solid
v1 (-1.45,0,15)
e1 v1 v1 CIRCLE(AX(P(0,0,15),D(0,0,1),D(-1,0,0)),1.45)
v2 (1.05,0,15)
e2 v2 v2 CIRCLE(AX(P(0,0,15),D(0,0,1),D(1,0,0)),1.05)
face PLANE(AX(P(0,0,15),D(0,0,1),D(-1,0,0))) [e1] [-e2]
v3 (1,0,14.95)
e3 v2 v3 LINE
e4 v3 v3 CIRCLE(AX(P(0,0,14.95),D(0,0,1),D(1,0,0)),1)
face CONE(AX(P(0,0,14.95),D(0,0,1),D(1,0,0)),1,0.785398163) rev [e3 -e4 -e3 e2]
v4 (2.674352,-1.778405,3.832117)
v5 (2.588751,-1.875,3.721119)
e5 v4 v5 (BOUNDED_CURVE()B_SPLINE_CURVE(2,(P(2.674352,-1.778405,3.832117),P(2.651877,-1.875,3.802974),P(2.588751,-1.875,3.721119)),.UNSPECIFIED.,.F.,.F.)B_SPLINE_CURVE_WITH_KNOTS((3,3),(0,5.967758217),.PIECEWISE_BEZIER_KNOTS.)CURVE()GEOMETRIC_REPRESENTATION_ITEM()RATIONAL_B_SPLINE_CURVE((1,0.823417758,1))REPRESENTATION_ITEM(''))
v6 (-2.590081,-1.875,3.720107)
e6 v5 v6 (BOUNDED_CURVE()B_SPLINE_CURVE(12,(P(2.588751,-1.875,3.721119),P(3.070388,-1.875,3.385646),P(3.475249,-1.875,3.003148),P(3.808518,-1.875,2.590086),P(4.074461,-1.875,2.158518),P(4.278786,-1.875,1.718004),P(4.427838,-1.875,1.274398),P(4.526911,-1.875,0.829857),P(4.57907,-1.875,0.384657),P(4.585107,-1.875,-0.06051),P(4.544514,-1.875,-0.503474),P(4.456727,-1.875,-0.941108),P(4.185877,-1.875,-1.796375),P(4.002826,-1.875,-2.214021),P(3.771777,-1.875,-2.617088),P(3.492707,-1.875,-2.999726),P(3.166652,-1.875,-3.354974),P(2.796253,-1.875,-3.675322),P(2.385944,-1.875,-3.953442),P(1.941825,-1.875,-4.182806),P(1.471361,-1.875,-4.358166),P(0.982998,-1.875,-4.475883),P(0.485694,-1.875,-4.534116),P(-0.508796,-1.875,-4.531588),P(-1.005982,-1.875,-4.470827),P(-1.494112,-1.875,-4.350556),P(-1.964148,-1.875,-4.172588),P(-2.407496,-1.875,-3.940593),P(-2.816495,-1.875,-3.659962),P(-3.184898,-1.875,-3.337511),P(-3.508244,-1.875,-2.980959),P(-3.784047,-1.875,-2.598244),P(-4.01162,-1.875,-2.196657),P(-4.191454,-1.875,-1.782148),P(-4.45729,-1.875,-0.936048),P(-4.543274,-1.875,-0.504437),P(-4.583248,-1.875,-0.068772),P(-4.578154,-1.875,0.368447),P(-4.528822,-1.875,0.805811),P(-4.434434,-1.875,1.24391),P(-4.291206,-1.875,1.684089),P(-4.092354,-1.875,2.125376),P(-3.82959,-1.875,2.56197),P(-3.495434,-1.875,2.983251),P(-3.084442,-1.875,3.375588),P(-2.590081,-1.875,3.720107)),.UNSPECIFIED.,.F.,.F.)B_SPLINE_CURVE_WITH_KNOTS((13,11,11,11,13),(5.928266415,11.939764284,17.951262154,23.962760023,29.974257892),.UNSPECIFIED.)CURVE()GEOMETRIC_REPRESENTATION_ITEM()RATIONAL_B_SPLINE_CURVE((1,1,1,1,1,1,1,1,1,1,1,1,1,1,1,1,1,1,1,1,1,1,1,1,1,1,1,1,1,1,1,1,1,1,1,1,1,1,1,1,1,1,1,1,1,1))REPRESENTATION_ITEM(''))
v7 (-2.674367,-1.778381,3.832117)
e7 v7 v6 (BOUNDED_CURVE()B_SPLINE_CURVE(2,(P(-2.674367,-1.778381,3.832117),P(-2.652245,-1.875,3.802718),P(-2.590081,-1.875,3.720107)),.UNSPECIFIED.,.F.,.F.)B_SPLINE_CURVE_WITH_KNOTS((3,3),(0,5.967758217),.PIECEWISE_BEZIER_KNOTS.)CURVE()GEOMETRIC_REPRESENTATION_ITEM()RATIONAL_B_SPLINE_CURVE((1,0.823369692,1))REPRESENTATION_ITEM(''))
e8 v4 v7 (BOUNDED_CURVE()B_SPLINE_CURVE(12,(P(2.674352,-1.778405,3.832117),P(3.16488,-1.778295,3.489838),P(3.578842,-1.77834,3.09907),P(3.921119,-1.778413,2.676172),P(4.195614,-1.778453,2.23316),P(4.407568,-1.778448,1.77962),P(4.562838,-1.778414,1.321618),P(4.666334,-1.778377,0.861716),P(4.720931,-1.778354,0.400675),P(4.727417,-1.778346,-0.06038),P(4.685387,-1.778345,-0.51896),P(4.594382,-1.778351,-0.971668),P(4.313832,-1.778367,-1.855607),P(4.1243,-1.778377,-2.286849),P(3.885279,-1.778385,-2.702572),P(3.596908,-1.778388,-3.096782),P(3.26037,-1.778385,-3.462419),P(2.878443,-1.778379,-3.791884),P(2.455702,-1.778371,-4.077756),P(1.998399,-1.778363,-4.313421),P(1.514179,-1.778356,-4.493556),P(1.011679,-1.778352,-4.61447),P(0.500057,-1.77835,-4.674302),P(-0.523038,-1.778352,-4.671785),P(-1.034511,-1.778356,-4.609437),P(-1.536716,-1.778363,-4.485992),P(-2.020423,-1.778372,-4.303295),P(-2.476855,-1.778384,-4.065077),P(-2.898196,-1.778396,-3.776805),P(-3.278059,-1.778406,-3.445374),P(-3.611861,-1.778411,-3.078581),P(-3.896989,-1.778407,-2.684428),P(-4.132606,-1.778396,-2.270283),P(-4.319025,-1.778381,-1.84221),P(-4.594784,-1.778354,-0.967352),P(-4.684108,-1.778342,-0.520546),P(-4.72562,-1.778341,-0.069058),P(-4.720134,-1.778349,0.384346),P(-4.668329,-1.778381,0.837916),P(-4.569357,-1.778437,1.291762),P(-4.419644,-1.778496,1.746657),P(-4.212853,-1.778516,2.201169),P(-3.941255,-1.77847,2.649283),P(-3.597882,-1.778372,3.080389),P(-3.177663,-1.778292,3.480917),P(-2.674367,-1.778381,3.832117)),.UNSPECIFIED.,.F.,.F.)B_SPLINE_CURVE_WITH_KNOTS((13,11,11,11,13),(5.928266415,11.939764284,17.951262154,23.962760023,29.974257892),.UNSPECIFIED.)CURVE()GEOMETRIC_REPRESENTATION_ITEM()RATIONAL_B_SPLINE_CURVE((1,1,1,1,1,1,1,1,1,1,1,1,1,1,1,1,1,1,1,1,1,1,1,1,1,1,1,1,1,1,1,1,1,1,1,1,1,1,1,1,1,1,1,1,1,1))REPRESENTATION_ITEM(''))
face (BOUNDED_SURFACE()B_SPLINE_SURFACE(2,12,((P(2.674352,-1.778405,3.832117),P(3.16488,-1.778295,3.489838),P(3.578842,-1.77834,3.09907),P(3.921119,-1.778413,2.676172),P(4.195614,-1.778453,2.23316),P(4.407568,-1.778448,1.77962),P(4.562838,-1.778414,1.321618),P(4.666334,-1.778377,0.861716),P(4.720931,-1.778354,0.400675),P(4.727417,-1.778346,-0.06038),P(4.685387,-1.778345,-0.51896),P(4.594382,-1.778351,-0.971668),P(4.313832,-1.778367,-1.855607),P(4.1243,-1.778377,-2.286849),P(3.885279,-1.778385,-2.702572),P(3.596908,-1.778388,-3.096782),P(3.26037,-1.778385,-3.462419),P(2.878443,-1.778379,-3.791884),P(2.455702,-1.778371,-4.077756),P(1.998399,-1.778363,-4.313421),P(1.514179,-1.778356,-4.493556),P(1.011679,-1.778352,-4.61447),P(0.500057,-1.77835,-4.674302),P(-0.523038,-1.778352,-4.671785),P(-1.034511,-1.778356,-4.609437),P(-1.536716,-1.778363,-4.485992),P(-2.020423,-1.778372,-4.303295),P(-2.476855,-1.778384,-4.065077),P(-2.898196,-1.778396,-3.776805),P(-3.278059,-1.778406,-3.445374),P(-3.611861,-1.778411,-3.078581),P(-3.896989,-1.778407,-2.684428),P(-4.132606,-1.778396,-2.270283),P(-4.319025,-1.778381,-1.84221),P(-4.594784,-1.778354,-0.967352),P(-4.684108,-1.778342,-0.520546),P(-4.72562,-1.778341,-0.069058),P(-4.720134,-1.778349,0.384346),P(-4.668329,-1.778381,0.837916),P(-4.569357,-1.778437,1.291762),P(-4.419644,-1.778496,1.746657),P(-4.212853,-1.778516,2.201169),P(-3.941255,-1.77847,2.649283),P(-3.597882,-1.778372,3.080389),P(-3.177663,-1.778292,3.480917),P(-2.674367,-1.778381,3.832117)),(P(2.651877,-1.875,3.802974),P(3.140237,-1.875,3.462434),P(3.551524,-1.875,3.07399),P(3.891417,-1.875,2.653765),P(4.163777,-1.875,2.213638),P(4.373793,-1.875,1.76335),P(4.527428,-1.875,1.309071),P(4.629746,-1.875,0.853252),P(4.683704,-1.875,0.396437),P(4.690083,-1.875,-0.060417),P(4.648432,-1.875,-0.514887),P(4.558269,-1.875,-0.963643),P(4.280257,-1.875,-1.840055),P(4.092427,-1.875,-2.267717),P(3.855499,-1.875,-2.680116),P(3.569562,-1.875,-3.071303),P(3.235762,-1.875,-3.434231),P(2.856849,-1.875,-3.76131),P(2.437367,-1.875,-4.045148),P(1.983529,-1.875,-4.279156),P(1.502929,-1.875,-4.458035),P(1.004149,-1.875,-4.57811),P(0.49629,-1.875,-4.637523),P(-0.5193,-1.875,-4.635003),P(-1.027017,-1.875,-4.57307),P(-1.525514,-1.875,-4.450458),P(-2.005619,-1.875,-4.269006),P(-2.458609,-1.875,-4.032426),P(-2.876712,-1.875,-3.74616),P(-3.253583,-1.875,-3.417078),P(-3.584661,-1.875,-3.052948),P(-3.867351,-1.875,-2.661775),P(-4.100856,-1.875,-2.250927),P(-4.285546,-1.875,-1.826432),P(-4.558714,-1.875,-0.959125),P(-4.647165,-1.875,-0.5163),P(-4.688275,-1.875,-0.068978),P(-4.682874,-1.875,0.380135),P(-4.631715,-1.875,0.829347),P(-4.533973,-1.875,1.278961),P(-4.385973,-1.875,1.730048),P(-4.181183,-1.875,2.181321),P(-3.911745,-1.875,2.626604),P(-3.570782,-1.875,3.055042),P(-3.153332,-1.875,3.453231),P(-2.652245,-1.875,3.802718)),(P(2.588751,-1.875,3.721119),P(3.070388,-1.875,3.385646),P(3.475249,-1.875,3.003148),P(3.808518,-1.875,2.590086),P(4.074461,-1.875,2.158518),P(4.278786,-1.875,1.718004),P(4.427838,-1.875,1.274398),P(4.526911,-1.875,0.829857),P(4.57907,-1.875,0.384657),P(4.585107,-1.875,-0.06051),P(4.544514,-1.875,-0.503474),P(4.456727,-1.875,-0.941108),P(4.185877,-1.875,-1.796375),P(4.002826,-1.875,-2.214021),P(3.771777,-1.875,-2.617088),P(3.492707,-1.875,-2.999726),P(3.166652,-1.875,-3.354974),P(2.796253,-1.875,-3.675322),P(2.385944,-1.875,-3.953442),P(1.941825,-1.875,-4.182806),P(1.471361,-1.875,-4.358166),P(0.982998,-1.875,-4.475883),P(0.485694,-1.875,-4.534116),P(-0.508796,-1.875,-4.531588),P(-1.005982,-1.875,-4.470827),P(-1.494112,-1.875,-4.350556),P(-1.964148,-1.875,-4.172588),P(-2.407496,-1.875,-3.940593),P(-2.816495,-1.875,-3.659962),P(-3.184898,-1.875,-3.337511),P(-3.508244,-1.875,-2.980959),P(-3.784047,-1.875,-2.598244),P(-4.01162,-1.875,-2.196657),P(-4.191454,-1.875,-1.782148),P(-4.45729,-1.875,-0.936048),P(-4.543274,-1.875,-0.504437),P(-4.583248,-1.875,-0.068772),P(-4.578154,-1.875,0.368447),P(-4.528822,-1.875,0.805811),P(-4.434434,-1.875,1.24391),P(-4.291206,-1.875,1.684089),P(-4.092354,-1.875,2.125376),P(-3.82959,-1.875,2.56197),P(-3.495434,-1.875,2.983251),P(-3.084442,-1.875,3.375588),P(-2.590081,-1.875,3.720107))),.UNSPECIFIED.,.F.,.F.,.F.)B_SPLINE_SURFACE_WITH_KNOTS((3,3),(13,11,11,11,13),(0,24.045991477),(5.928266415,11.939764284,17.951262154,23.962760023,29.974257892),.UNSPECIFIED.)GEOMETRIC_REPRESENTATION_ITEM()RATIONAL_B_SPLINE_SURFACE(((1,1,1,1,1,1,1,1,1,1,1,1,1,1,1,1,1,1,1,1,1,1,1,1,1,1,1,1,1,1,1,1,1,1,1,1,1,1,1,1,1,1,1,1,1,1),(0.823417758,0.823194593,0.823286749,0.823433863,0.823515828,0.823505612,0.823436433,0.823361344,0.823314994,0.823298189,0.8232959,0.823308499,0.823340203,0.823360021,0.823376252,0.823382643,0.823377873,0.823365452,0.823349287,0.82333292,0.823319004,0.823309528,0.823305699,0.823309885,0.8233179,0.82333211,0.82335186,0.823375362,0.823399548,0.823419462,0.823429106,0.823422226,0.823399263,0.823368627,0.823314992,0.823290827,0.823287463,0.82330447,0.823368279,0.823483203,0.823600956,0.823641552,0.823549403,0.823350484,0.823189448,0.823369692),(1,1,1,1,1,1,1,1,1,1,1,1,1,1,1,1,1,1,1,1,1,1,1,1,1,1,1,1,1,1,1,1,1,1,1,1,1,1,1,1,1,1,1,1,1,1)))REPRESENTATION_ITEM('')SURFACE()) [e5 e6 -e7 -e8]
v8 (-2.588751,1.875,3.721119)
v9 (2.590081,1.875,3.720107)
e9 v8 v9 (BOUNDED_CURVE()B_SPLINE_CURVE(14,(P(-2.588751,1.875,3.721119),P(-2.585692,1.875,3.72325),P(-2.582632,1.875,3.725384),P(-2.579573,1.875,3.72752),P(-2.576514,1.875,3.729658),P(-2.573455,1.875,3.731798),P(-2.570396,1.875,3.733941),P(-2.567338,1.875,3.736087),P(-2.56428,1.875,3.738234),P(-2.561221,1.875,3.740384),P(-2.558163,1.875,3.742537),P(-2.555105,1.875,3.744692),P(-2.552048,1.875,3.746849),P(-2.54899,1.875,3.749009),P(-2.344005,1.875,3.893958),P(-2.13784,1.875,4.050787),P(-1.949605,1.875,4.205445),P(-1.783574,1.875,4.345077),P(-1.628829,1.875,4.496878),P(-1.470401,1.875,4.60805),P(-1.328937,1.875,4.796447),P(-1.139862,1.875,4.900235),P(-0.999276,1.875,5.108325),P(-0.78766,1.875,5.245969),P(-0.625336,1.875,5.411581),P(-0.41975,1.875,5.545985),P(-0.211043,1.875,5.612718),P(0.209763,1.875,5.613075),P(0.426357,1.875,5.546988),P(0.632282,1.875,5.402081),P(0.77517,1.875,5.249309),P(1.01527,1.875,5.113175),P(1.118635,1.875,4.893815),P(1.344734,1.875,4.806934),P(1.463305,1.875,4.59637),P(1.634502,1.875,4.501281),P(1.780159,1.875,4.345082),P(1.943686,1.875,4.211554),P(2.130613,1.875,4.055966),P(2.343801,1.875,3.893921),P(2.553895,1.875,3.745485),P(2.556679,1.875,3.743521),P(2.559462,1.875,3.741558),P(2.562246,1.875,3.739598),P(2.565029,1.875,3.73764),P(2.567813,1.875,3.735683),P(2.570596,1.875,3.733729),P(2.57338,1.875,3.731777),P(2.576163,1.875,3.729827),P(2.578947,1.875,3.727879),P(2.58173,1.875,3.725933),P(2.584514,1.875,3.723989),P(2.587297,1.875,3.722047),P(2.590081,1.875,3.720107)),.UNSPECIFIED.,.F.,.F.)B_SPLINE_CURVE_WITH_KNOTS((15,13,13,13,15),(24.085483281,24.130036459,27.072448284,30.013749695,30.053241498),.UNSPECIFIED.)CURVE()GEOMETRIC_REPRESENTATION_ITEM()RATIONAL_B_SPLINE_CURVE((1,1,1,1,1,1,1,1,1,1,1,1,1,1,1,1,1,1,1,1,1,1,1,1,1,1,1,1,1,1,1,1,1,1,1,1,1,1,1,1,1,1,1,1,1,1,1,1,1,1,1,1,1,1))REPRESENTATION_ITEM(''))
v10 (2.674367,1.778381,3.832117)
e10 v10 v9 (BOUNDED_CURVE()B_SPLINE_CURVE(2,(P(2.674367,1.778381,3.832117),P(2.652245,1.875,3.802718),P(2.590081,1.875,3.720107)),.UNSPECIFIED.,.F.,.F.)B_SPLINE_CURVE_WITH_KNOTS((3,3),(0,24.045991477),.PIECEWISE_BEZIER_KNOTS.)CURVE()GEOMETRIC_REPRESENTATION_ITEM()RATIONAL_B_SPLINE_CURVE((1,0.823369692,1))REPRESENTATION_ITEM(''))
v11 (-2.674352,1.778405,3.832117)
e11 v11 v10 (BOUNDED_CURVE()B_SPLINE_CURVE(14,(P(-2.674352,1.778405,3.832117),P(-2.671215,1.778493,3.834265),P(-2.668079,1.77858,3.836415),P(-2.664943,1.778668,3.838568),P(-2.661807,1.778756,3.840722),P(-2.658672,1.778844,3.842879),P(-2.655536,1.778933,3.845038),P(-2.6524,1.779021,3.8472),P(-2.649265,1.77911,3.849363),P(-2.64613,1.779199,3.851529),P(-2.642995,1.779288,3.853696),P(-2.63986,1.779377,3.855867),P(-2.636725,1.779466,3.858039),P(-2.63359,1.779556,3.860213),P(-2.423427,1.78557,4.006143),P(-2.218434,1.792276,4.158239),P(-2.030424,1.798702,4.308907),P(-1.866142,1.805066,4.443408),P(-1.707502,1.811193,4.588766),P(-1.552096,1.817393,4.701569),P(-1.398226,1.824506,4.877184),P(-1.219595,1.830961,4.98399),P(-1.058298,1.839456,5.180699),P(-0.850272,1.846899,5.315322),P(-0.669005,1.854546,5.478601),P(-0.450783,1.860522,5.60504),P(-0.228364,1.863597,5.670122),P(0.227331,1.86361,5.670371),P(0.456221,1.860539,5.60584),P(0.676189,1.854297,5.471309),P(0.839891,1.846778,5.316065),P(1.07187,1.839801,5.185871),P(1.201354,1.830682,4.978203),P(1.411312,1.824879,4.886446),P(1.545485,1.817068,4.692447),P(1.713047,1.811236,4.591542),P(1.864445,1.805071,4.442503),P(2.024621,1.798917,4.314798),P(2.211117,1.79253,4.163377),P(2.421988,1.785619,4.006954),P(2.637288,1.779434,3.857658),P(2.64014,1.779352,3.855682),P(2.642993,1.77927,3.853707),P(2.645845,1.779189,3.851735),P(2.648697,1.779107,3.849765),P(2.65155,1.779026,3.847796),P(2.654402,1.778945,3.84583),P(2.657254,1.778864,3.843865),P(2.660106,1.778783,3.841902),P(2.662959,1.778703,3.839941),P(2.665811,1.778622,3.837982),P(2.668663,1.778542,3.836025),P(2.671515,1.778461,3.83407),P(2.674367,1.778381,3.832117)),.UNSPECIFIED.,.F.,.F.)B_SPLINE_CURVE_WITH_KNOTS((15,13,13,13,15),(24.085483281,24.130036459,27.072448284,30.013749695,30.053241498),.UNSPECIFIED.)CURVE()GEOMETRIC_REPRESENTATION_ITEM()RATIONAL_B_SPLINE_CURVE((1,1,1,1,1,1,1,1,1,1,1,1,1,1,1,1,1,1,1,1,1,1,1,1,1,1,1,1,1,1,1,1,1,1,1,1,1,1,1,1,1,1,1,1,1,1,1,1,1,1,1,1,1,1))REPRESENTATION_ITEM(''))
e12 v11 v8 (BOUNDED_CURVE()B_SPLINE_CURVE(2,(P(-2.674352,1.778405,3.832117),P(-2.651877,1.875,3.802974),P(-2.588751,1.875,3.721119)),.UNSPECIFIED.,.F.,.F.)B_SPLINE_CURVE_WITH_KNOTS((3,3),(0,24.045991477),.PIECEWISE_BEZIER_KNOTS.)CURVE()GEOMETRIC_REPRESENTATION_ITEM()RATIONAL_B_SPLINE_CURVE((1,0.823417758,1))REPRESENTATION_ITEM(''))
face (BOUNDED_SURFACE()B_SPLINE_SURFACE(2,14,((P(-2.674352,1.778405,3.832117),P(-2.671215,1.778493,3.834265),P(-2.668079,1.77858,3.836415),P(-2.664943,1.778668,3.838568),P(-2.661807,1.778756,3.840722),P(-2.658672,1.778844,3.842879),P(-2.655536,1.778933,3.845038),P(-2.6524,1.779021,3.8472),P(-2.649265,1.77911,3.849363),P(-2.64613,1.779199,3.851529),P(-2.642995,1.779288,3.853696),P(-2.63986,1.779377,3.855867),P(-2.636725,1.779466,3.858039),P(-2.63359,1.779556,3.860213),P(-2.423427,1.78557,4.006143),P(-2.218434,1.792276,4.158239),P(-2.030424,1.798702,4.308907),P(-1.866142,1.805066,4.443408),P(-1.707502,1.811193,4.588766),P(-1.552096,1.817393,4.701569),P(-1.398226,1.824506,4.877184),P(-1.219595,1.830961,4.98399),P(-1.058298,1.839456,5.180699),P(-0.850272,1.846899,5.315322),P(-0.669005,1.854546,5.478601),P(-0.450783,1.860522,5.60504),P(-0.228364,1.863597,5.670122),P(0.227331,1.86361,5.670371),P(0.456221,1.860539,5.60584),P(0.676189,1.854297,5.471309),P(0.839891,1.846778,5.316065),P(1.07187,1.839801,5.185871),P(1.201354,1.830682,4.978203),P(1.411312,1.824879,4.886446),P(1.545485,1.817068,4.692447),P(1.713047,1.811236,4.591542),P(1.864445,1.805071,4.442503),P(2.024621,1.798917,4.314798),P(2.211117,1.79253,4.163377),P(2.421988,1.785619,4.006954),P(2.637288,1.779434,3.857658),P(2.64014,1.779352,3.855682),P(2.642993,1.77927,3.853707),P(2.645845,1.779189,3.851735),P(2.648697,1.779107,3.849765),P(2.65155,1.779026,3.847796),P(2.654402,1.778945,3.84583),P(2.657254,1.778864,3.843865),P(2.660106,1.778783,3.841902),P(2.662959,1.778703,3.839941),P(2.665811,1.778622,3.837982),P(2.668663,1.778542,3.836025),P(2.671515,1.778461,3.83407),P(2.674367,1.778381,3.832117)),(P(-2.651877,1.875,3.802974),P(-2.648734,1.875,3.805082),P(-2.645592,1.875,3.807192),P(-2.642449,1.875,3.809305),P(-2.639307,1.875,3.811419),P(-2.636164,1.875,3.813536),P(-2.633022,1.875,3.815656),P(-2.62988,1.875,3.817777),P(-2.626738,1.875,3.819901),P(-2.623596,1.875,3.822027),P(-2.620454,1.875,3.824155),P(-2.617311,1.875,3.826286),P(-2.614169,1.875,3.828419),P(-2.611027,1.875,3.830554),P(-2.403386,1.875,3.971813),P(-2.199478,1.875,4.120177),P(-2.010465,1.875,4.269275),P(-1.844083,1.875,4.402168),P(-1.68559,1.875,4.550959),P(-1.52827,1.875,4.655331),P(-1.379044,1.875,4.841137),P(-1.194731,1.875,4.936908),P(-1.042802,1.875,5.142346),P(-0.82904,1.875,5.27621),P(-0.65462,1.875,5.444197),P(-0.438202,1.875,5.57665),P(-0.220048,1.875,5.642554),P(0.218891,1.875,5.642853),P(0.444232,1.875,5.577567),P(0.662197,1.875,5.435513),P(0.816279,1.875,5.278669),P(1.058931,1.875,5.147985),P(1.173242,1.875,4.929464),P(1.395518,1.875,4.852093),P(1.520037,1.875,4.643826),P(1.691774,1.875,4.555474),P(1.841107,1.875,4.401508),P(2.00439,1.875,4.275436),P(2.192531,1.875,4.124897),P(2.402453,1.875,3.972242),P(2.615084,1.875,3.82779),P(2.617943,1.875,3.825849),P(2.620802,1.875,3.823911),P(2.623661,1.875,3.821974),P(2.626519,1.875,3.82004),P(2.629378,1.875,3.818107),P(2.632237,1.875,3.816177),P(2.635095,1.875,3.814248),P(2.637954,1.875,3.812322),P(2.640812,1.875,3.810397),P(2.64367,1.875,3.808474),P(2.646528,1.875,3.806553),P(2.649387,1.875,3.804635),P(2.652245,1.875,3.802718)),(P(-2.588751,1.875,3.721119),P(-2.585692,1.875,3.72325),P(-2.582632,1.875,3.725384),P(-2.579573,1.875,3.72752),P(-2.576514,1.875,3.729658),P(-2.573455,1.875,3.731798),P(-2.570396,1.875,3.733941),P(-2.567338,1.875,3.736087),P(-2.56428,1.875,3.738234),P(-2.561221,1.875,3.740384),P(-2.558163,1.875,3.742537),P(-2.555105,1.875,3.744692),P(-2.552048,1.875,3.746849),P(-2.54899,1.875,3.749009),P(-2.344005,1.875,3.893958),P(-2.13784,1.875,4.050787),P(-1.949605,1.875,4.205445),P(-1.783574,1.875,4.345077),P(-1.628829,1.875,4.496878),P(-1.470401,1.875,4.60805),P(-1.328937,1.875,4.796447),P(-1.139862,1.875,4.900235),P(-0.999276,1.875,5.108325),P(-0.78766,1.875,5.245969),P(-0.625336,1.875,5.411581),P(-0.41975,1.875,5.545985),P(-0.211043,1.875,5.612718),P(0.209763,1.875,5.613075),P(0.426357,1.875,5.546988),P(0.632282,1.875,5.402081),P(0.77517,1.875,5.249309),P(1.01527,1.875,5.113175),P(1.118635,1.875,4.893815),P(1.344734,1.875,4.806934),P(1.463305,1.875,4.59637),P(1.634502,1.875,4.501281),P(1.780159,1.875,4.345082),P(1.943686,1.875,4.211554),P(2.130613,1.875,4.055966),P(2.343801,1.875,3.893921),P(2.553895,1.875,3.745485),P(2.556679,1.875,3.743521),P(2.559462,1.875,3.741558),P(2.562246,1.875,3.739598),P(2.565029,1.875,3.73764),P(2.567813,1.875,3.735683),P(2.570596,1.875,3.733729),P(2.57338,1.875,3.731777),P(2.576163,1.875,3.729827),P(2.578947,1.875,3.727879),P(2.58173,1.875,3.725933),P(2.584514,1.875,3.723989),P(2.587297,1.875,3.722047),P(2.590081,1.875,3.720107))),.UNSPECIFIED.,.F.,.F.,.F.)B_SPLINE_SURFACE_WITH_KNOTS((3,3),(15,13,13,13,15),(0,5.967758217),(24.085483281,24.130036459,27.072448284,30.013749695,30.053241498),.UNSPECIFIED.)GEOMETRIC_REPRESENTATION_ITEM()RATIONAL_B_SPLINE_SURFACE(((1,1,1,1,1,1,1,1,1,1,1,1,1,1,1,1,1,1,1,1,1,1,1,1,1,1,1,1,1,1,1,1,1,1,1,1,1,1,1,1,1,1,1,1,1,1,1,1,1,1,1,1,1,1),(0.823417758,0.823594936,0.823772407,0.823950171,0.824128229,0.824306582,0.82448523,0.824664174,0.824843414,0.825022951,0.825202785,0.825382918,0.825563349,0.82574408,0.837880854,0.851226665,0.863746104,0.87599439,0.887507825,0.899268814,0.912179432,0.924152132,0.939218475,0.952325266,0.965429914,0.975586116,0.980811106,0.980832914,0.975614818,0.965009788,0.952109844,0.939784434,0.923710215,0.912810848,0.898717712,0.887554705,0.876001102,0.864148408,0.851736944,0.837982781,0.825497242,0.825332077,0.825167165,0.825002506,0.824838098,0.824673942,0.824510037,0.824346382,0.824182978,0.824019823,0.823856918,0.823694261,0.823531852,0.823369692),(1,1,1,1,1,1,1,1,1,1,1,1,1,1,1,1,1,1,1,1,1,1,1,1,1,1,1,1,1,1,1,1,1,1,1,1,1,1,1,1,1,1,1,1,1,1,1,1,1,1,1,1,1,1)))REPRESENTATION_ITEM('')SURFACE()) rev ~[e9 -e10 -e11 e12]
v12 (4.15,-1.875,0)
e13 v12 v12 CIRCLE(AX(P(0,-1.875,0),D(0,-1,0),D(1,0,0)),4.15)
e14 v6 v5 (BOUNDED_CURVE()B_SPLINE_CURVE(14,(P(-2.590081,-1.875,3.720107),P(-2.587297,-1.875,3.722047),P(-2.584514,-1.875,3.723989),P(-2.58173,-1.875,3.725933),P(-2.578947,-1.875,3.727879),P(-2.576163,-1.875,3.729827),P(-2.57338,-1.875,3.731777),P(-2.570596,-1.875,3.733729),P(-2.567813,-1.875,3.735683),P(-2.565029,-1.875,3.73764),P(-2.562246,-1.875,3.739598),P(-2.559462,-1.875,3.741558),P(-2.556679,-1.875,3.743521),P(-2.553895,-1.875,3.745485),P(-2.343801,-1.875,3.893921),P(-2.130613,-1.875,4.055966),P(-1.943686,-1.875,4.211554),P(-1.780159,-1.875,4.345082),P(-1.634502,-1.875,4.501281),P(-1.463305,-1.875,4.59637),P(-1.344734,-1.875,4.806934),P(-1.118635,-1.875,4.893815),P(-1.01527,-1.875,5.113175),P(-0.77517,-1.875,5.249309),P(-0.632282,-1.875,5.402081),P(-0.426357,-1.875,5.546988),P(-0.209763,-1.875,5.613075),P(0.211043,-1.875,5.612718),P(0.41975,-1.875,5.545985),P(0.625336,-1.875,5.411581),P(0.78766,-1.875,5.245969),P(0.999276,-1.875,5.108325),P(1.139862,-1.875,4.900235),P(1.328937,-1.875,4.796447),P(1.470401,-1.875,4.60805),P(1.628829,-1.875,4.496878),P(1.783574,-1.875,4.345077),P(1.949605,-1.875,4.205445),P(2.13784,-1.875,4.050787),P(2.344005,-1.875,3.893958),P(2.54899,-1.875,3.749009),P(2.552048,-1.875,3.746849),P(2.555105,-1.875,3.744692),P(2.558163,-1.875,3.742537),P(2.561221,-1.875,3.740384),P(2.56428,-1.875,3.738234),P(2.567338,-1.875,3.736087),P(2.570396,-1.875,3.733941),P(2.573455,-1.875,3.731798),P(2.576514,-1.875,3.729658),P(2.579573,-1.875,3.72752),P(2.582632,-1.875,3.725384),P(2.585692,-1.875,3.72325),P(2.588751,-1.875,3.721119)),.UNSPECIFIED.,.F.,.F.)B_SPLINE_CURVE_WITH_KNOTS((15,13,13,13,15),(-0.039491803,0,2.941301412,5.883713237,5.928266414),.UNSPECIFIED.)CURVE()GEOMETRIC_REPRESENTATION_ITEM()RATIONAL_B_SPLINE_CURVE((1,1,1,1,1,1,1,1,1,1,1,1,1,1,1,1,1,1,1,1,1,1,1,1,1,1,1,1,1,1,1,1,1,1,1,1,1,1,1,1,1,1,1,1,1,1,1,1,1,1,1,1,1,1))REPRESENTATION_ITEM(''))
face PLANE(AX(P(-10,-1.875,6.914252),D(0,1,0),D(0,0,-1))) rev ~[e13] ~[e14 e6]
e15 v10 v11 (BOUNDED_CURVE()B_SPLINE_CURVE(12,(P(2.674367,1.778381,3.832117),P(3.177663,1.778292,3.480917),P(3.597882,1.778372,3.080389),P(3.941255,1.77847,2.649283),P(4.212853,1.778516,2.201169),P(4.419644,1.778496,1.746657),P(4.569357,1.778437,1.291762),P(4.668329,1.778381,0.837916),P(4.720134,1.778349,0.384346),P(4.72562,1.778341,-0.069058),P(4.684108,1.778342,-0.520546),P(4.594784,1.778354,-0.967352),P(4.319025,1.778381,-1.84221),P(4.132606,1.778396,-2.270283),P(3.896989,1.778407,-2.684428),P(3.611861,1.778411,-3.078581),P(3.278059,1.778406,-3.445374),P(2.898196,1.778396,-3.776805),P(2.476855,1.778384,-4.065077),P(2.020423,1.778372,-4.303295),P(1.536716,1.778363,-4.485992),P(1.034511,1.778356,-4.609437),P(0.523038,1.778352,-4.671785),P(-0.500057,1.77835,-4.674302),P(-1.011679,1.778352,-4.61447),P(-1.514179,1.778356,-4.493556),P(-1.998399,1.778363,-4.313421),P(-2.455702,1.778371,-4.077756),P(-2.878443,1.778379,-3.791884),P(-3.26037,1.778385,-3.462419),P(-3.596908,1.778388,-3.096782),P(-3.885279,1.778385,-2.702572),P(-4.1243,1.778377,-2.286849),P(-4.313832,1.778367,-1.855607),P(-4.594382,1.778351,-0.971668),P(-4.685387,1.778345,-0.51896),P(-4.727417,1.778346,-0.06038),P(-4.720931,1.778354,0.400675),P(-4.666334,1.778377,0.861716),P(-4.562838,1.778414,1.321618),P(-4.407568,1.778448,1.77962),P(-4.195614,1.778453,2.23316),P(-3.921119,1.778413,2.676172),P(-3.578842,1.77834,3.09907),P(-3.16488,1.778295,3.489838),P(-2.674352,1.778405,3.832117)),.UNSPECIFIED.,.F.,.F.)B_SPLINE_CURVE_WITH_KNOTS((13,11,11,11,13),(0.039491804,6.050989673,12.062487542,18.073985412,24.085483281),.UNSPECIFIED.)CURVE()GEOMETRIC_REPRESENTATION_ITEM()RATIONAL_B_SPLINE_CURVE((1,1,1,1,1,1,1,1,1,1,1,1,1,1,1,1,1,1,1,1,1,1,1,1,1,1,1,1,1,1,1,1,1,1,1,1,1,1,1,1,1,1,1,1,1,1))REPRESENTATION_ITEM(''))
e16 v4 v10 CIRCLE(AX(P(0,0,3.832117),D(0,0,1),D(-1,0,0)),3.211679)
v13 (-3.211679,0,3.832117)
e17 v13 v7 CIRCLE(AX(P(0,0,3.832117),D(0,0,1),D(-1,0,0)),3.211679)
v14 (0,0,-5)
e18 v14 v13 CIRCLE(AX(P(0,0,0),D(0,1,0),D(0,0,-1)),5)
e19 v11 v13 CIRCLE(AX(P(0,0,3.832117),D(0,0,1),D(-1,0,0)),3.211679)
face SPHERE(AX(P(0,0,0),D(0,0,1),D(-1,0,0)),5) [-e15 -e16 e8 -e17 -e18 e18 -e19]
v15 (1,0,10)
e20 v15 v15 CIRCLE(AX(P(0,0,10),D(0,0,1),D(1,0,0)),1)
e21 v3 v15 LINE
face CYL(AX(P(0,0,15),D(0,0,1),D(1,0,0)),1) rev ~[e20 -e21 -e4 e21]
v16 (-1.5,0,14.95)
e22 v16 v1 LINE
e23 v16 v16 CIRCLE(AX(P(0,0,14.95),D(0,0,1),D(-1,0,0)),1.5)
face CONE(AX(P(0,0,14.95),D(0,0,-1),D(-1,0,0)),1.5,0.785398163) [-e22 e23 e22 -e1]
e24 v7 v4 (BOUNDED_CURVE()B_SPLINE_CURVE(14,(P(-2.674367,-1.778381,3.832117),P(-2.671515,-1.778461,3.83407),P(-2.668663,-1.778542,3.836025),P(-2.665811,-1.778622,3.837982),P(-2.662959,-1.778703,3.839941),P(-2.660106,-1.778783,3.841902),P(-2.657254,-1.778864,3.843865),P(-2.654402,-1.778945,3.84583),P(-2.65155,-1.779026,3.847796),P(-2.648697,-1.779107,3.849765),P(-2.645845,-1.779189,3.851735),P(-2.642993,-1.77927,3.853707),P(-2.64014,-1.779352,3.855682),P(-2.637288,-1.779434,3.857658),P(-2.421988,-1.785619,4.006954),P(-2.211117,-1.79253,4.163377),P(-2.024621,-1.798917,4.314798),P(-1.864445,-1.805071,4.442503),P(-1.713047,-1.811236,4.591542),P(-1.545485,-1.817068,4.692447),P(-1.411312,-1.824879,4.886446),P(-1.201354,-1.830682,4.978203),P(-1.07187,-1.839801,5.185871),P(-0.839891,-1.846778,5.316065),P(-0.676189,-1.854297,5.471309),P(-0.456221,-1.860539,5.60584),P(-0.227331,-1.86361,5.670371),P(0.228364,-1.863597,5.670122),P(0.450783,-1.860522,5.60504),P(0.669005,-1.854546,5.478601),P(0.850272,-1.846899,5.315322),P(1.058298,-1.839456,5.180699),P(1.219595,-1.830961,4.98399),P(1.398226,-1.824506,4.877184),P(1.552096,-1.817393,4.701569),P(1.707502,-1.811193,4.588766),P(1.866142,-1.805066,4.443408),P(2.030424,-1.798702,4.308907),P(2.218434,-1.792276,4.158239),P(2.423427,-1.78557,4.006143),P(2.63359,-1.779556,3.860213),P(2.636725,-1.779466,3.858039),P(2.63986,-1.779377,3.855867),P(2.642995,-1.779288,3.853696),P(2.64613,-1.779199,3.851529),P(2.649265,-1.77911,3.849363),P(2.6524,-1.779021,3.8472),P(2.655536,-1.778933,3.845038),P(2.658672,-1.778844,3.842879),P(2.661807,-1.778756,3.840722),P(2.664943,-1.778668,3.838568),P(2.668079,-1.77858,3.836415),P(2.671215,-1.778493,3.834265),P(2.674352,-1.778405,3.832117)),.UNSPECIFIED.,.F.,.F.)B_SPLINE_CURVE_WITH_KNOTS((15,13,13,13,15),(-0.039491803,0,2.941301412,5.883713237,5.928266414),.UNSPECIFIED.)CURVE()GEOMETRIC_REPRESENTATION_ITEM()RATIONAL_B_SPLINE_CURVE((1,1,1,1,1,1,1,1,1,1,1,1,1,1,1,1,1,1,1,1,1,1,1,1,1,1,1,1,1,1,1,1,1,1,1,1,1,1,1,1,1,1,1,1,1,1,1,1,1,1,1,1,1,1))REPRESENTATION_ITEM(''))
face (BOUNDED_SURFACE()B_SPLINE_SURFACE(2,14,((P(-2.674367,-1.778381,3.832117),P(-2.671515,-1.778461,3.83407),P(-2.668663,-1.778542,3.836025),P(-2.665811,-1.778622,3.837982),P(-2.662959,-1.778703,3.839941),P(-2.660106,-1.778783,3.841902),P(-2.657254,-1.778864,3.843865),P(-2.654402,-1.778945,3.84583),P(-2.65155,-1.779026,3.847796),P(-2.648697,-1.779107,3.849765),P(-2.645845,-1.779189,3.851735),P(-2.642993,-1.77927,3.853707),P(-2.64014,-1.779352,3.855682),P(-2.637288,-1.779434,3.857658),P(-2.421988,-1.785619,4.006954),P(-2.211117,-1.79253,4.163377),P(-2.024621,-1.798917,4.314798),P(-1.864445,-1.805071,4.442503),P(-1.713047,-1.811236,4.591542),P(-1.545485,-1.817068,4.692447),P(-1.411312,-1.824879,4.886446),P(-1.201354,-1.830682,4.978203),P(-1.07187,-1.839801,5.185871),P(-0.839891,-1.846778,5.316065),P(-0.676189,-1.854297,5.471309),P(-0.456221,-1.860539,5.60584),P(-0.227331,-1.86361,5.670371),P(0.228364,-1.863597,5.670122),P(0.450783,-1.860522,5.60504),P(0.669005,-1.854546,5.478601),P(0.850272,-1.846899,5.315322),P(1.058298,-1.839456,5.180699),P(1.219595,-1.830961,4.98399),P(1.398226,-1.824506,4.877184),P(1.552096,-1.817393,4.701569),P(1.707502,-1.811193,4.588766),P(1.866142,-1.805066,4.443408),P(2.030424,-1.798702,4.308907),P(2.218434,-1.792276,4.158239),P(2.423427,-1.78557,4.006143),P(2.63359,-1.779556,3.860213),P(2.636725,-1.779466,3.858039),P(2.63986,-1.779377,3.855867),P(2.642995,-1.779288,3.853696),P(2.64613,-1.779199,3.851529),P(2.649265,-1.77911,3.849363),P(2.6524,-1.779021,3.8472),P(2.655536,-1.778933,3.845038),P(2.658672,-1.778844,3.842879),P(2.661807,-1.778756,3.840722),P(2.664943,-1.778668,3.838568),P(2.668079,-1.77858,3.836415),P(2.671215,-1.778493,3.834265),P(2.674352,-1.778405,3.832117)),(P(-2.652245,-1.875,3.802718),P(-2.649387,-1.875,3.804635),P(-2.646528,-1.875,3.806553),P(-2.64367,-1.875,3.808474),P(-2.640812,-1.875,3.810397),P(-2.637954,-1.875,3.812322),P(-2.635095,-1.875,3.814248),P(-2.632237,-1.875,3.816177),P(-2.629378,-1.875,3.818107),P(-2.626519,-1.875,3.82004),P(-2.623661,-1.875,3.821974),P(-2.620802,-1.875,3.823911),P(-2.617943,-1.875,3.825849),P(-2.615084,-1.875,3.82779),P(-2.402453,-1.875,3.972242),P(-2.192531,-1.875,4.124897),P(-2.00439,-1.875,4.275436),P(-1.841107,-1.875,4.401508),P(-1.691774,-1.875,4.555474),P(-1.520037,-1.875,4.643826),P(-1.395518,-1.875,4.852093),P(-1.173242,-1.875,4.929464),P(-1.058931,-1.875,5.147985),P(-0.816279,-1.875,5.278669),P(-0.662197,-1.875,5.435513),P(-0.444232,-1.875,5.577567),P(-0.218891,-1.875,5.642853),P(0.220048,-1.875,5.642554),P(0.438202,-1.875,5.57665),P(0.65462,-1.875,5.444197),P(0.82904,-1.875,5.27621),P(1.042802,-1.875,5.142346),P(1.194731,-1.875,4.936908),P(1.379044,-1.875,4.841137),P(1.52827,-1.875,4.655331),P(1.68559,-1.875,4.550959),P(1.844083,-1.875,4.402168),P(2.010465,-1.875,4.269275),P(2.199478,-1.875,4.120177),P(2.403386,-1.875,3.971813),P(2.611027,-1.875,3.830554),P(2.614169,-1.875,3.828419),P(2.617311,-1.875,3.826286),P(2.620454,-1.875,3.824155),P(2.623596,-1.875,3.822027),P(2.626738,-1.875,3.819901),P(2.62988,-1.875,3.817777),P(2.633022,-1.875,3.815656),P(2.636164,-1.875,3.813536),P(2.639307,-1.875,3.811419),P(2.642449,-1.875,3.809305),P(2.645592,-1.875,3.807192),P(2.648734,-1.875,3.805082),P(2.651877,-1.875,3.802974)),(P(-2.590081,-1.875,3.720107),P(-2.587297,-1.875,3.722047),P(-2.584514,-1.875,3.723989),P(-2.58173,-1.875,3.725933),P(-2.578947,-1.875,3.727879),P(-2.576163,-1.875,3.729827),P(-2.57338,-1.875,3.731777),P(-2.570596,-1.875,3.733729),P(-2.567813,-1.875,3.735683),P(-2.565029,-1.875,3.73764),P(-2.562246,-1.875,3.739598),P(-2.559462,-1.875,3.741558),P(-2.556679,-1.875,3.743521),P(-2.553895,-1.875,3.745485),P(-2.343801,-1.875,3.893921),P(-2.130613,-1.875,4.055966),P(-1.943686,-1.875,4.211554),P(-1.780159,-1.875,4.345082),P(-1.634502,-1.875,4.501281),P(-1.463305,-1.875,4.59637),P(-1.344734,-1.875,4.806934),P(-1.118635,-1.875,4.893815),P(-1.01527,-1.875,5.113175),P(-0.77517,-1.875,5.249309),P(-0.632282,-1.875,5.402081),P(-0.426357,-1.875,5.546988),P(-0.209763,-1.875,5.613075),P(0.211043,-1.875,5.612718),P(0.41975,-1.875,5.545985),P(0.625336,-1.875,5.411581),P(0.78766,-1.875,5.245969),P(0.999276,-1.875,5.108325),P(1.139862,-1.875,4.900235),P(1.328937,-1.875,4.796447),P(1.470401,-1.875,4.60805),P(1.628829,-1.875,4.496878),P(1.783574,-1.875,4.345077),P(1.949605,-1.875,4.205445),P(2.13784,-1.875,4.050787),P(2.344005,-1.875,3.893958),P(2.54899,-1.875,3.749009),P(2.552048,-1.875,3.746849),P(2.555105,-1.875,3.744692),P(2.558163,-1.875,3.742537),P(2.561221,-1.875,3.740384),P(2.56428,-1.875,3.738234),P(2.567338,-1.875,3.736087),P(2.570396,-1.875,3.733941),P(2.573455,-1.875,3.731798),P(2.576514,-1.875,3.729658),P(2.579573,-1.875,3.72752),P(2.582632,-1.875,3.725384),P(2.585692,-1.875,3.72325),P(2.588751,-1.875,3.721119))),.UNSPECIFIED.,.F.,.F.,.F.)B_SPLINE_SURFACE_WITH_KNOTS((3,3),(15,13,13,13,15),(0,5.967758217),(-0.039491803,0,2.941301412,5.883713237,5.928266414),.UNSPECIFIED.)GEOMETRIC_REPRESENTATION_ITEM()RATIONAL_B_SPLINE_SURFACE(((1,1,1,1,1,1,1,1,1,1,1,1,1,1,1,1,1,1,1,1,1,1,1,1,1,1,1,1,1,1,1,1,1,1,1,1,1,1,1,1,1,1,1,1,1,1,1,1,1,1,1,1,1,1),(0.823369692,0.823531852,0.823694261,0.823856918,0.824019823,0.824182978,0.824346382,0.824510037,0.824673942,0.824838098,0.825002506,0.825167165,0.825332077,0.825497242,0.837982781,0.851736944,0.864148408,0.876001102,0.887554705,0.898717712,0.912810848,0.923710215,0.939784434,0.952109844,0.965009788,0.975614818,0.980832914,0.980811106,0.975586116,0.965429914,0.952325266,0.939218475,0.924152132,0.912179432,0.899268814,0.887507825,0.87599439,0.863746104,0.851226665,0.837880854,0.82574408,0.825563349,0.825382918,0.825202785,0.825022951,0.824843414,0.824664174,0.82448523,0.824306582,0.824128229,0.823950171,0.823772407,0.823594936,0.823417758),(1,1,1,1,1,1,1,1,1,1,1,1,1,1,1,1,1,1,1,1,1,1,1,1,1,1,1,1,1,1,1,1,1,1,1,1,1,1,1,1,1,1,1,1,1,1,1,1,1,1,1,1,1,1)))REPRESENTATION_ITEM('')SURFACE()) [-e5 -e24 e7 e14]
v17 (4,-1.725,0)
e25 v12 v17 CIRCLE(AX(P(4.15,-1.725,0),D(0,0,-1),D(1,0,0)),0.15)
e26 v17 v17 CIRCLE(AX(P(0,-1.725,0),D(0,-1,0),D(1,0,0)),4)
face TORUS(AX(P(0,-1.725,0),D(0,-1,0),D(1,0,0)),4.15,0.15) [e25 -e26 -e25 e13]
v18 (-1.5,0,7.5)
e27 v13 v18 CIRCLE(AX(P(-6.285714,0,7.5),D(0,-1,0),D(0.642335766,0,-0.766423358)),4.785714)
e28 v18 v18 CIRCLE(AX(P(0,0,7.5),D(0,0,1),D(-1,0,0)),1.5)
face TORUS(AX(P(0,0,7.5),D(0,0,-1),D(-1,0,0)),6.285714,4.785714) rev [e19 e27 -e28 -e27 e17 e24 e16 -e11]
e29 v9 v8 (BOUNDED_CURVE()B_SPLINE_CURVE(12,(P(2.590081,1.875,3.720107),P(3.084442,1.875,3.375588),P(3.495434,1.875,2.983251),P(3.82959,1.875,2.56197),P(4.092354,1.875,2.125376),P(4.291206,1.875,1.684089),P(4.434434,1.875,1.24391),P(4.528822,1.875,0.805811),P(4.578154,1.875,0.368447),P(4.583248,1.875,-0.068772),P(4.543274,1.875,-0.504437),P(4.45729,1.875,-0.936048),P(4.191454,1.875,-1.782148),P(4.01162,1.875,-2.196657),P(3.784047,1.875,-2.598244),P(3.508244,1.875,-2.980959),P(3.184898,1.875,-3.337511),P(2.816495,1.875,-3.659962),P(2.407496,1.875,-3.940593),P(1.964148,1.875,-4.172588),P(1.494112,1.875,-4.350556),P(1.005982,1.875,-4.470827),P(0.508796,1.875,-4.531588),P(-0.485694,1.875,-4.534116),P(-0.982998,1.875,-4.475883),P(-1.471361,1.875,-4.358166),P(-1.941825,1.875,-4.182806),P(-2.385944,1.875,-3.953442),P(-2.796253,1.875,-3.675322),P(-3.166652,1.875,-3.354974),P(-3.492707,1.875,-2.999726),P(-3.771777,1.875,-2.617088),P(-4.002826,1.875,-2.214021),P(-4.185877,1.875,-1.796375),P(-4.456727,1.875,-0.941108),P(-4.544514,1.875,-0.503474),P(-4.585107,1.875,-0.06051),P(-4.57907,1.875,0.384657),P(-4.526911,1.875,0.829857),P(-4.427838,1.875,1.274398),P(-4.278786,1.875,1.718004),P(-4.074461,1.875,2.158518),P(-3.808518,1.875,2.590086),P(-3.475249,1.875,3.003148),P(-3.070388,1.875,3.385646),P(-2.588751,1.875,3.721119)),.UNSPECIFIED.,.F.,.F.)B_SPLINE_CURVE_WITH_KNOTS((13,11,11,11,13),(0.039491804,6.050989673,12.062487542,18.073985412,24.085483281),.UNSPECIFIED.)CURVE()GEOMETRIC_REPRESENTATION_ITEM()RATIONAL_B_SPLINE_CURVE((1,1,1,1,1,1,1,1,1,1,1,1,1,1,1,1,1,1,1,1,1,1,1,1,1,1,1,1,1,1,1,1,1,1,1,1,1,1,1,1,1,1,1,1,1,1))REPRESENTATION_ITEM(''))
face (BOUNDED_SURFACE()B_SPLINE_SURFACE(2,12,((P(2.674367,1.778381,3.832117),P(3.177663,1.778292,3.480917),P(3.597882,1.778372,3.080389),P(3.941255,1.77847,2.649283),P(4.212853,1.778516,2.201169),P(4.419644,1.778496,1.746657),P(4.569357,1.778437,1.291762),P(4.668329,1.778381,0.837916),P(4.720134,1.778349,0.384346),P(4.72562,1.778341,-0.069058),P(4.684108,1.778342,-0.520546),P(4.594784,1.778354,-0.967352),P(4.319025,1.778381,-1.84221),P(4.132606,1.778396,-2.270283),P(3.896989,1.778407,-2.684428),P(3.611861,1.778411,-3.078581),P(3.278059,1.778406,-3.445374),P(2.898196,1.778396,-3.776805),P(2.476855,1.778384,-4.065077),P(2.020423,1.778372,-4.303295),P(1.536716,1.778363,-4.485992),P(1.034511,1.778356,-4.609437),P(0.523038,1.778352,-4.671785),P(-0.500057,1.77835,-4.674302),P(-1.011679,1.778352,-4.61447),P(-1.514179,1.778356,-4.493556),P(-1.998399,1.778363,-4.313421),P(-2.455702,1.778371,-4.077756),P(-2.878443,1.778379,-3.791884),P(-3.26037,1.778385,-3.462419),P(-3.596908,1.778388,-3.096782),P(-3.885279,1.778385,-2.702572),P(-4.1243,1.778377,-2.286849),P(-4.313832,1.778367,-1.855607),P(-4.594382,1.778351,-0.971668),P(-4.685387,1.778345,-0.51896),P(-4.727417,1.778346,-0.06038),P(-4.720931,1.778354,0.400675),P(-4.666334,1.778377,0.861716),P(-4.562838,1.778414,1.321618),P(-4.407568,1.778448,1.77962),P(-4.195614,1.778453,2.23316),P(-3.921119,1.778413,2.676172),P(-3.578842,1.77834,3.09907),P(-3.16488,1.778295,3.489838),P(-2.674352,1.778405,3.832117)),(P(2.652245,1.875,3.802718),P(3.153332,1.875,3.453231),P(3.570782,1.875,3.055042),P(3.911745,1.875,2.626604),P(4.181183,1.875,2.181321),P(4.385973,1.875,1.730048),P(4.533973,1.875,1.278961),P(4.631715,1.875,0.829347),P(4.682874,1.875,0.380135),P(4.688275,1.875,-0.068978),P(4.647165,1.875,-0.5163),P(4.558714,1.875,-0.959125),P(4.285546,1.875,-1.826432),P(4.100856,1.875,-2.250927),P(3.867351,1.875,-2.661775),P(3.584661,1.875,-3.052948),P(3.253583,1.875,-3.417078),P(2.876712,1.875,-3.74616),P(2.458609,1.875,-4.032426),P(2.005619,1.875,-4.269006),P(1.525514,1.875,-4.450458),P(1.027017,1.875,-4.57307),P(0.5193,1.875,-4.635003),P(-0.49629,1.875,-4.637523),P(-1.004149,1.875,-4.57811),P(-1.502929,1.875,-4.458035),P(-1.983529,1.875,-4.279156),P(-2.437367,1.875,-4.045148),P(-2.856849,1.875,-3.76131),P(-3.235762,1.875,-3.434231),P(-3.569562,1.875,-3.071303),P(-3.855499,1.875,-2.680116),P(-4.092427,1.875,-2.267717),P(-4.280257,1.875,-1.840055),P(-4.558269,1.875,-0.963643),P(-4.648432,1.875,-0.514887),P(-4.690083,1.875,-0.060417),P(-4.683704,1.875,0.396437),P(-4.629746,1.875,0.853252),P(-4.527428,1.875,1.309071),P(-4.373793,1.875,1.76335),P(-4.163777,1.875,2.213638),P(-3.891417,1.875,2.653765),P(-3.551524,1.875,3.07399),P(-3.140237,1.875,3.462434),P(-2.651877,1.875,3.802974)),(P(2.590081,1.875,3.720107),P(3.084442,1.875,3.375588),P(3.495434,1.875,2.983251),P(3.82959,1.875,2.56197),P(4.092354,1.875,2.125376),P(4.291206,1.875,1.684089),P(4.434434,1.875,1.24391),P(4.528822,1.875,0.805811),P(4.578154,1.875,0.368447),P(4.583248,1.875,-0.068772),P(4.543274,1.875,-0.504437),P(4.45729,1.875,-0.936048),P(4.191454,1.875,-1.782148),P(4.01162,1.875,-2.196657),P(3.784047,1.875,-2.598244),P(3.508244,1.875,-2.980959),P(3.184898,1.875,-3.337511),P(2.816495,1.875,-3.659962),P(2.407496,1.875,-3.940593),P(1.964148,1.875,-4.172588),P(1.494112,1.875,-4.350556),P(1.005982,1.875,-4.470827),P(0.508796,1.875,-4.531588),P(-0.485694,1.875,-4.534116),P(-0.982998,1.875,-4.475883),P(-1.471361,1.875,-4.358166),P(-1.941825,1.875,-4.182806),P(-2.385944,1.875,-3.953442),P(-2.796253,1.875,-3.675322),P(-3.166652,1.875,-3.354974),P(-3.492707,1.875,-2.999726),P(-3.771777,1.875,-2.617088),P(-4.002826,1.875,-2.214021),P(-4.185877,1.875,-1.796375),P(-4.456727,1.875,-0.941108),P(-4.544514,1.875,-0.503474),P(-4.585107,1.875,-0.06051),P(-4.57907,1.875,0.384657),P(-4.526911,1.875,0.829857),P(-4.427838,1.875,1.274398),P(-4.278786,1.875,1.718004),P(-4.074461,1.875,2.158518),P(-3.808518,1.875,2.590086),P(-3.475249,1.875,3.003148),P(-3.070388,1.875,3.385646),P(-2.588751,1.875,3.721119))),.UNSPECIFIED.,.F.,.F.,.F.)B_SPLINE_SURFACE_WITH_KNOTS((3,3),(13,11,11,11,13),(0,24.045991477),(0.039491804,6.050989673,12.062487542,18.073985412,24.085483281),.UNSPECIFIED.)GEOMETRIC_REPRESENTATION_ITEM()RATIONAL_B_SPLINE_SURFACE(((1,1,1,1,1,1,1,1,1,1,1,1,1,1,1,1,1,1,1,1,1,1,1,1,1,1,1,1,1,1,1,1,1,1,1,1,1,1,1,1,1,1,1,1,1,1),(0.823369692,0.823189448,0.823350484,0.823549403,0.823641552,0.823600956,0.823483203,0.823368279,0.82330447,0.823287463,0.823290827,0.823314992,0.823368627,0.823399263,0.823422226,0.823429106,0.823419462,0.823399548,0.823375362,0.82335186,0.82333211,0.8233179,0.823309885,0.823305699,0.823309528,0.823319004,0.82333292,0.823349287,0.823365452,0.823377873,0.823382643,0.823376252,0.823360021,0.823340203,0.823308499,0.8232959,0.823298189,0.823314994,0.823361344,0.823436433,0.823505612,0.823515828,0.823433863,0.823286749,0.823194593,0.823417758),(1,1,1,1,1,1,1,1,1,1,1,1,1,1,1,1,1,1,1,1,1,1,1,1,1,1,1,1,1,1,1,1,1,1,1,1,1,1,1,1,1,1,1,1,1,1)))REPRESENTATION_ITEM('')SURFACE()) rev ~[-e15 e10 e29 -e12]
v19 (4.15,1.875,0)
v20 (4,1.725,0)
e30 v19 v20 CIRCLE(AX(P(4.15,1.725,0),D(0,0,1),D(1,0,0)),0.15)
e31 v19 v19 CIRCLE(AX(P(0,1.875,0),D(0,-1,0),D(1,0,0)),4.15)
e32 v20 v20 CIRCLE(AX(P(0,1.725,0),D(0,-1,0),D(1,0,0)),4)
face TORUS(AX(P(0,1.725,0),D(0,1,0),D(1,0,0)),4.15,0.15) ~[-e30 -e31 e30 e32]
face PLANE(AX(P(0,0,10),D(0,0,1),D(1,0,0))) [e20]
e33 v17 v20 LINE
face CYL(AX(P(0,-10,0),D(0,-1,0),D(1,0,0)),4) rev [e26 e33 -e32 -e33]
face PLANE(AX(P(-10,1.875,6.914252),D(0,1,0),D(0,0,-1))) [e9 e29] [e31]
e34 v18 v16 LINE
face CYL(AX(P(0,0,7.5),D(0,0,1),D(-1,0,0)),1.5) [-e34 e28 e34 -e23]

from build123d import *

# Parameters (mm, degrees)
CUT_EXTRUDE1_DEPTH      = 10
CUT_EXTRUDE1_DEPTH_BACK = 10
CUT_EXTRUDE2_DEPTH      = 10
CUT_EXTRUDE2_DEPTH_BACK = 10
SKETCH4_R               = 4
FILLET1_R               = 0.15
SKETCH5_R               = 1
CUT_EXTRUDE3_DEPTH      = 5
CHAMFER1_SIZE           = 0.05


with BuildPart() as part:
    # Sketch2 → Revolve1 (revolve)
    with BuildSketch(Plane(origin=(0, 0, 0), x_dir=(1, 0, 0), z_dir=(0, 1, 0))):
        with BuildLine():
            Line((-1.5, -15), (0, -15))
            Line((0, -15), (0, 5))
            ThreePointArc((0, 5), (-4.698967117, 1.708715315), (-3.211678832, -3.832116788))
            ThreePointArc((-3.211678832, -3.832116788), (-1.948980687, -5.476190987), (-1.5, -7.5))
            Line((-1.5, -7.5), (-1.5, -15))
        make_face()
    revolve(axis=Axis((0, 0, -5), (0, 0, 1)))

    # Sketch3 → Cut-Extrude1 (cut, two sides: drawn at the far end of the back side and taken through both)
    with BuildSketch(Plane(origin=(0, 0, 0), x_dir=(0, 0, -1), z_dir=(1, 0, 0)).offset(-CUT_EXTRUDE1_DEPTH_BACK)):
        with BuildLine():
            Line((-6.914251905, 1.875), (13.74921602, 1.875))
            Line((13.74921602, 1.875), (13.74921602, 11.382138009))
            Line((13.74921602, 11.382138009), (-22.068346047, 11.382138009))
            Line((-22.068346047, 11.382138009), (-9.782134087, 2.779239779))
            ThreePointArc((-9.782134087, 2.779239779), (-8.417780903, 2.106415246), (-6.914251905, 1.875))
        make_face()
        with BuildLine():
            Line((13.74921602, -11.382138009), (-22.068346047, -11.382138009))
            Line((-22.068346047, -11.382138009), (-9.782134087, -2.779239779))
            ThreePointArc((-9.782134087, -2.779239779), (-8.417780903, -2.106415246), (-6.914251905, -1.875))
            Line((-6.914251905, -1.875), (13.74921602, -1.875))
            Line((13.74921602, -1.875), (13.74921602, -11.382138009))
        make_face()
    extrude(amount=CUT_EXTRUDE1_DEPTH + CUT_EXTRUDE1_DEPTH_BACK, mode=Mode.SUBTRACT)

    # Sketch4 → Cut-Extrude2 (cut, two sides: drawn at the far end of the back side and taken through both)
    with BuildSketch(Plane(origin=(0, 0, 0), x_dir=(1, 0, 0), z_dir=(0, 1, 0)).offset(-CUT_EXTRUDE2_DEPTH_BACK)):
        Circle(SKETCH4_R)
    extrude(amount=CUT_EXTRUDE2_DEPTH + CUT_EXTRUDE2_DEPTH_BACK, mode=Mode.SUBTRACT)

    # Fillet1
    fillet1_edges = [part.edges().sort_by_distance(p)[0] for p in [
        (1e-09, -1.875, 5.642942998),
        (0, 1.875, -4.635124054),
        (-4, 1.875, 0),
        (-4, -1.875, 0),
        (0, -1.875, -4.635124054),
        (-1e-09, 1.875, 5.642942998),
    ]]
    fillet(fillet1_edges, radius=FILLET1_R)

    # Sketch5 → Cut-Extrude3 (cut)
    with BuildSketch(Plane.XY.offset(15)):
        Circle(SKETCH5_R)
    extrude(amount=-CUT_EXTRUDE3_DEPTH, mode=Mode.SUBTRACT)

    # Chamfer1
    chamfer1_edges = [part.edges().sort_by_distance(p)[0] for p in [
        (1.5, 0, 15),
        (-1, 0, 15),
    ]]
    chamfer(chamfer1_edges, length=CHAMFER1_SIZE)


solid = part.part
